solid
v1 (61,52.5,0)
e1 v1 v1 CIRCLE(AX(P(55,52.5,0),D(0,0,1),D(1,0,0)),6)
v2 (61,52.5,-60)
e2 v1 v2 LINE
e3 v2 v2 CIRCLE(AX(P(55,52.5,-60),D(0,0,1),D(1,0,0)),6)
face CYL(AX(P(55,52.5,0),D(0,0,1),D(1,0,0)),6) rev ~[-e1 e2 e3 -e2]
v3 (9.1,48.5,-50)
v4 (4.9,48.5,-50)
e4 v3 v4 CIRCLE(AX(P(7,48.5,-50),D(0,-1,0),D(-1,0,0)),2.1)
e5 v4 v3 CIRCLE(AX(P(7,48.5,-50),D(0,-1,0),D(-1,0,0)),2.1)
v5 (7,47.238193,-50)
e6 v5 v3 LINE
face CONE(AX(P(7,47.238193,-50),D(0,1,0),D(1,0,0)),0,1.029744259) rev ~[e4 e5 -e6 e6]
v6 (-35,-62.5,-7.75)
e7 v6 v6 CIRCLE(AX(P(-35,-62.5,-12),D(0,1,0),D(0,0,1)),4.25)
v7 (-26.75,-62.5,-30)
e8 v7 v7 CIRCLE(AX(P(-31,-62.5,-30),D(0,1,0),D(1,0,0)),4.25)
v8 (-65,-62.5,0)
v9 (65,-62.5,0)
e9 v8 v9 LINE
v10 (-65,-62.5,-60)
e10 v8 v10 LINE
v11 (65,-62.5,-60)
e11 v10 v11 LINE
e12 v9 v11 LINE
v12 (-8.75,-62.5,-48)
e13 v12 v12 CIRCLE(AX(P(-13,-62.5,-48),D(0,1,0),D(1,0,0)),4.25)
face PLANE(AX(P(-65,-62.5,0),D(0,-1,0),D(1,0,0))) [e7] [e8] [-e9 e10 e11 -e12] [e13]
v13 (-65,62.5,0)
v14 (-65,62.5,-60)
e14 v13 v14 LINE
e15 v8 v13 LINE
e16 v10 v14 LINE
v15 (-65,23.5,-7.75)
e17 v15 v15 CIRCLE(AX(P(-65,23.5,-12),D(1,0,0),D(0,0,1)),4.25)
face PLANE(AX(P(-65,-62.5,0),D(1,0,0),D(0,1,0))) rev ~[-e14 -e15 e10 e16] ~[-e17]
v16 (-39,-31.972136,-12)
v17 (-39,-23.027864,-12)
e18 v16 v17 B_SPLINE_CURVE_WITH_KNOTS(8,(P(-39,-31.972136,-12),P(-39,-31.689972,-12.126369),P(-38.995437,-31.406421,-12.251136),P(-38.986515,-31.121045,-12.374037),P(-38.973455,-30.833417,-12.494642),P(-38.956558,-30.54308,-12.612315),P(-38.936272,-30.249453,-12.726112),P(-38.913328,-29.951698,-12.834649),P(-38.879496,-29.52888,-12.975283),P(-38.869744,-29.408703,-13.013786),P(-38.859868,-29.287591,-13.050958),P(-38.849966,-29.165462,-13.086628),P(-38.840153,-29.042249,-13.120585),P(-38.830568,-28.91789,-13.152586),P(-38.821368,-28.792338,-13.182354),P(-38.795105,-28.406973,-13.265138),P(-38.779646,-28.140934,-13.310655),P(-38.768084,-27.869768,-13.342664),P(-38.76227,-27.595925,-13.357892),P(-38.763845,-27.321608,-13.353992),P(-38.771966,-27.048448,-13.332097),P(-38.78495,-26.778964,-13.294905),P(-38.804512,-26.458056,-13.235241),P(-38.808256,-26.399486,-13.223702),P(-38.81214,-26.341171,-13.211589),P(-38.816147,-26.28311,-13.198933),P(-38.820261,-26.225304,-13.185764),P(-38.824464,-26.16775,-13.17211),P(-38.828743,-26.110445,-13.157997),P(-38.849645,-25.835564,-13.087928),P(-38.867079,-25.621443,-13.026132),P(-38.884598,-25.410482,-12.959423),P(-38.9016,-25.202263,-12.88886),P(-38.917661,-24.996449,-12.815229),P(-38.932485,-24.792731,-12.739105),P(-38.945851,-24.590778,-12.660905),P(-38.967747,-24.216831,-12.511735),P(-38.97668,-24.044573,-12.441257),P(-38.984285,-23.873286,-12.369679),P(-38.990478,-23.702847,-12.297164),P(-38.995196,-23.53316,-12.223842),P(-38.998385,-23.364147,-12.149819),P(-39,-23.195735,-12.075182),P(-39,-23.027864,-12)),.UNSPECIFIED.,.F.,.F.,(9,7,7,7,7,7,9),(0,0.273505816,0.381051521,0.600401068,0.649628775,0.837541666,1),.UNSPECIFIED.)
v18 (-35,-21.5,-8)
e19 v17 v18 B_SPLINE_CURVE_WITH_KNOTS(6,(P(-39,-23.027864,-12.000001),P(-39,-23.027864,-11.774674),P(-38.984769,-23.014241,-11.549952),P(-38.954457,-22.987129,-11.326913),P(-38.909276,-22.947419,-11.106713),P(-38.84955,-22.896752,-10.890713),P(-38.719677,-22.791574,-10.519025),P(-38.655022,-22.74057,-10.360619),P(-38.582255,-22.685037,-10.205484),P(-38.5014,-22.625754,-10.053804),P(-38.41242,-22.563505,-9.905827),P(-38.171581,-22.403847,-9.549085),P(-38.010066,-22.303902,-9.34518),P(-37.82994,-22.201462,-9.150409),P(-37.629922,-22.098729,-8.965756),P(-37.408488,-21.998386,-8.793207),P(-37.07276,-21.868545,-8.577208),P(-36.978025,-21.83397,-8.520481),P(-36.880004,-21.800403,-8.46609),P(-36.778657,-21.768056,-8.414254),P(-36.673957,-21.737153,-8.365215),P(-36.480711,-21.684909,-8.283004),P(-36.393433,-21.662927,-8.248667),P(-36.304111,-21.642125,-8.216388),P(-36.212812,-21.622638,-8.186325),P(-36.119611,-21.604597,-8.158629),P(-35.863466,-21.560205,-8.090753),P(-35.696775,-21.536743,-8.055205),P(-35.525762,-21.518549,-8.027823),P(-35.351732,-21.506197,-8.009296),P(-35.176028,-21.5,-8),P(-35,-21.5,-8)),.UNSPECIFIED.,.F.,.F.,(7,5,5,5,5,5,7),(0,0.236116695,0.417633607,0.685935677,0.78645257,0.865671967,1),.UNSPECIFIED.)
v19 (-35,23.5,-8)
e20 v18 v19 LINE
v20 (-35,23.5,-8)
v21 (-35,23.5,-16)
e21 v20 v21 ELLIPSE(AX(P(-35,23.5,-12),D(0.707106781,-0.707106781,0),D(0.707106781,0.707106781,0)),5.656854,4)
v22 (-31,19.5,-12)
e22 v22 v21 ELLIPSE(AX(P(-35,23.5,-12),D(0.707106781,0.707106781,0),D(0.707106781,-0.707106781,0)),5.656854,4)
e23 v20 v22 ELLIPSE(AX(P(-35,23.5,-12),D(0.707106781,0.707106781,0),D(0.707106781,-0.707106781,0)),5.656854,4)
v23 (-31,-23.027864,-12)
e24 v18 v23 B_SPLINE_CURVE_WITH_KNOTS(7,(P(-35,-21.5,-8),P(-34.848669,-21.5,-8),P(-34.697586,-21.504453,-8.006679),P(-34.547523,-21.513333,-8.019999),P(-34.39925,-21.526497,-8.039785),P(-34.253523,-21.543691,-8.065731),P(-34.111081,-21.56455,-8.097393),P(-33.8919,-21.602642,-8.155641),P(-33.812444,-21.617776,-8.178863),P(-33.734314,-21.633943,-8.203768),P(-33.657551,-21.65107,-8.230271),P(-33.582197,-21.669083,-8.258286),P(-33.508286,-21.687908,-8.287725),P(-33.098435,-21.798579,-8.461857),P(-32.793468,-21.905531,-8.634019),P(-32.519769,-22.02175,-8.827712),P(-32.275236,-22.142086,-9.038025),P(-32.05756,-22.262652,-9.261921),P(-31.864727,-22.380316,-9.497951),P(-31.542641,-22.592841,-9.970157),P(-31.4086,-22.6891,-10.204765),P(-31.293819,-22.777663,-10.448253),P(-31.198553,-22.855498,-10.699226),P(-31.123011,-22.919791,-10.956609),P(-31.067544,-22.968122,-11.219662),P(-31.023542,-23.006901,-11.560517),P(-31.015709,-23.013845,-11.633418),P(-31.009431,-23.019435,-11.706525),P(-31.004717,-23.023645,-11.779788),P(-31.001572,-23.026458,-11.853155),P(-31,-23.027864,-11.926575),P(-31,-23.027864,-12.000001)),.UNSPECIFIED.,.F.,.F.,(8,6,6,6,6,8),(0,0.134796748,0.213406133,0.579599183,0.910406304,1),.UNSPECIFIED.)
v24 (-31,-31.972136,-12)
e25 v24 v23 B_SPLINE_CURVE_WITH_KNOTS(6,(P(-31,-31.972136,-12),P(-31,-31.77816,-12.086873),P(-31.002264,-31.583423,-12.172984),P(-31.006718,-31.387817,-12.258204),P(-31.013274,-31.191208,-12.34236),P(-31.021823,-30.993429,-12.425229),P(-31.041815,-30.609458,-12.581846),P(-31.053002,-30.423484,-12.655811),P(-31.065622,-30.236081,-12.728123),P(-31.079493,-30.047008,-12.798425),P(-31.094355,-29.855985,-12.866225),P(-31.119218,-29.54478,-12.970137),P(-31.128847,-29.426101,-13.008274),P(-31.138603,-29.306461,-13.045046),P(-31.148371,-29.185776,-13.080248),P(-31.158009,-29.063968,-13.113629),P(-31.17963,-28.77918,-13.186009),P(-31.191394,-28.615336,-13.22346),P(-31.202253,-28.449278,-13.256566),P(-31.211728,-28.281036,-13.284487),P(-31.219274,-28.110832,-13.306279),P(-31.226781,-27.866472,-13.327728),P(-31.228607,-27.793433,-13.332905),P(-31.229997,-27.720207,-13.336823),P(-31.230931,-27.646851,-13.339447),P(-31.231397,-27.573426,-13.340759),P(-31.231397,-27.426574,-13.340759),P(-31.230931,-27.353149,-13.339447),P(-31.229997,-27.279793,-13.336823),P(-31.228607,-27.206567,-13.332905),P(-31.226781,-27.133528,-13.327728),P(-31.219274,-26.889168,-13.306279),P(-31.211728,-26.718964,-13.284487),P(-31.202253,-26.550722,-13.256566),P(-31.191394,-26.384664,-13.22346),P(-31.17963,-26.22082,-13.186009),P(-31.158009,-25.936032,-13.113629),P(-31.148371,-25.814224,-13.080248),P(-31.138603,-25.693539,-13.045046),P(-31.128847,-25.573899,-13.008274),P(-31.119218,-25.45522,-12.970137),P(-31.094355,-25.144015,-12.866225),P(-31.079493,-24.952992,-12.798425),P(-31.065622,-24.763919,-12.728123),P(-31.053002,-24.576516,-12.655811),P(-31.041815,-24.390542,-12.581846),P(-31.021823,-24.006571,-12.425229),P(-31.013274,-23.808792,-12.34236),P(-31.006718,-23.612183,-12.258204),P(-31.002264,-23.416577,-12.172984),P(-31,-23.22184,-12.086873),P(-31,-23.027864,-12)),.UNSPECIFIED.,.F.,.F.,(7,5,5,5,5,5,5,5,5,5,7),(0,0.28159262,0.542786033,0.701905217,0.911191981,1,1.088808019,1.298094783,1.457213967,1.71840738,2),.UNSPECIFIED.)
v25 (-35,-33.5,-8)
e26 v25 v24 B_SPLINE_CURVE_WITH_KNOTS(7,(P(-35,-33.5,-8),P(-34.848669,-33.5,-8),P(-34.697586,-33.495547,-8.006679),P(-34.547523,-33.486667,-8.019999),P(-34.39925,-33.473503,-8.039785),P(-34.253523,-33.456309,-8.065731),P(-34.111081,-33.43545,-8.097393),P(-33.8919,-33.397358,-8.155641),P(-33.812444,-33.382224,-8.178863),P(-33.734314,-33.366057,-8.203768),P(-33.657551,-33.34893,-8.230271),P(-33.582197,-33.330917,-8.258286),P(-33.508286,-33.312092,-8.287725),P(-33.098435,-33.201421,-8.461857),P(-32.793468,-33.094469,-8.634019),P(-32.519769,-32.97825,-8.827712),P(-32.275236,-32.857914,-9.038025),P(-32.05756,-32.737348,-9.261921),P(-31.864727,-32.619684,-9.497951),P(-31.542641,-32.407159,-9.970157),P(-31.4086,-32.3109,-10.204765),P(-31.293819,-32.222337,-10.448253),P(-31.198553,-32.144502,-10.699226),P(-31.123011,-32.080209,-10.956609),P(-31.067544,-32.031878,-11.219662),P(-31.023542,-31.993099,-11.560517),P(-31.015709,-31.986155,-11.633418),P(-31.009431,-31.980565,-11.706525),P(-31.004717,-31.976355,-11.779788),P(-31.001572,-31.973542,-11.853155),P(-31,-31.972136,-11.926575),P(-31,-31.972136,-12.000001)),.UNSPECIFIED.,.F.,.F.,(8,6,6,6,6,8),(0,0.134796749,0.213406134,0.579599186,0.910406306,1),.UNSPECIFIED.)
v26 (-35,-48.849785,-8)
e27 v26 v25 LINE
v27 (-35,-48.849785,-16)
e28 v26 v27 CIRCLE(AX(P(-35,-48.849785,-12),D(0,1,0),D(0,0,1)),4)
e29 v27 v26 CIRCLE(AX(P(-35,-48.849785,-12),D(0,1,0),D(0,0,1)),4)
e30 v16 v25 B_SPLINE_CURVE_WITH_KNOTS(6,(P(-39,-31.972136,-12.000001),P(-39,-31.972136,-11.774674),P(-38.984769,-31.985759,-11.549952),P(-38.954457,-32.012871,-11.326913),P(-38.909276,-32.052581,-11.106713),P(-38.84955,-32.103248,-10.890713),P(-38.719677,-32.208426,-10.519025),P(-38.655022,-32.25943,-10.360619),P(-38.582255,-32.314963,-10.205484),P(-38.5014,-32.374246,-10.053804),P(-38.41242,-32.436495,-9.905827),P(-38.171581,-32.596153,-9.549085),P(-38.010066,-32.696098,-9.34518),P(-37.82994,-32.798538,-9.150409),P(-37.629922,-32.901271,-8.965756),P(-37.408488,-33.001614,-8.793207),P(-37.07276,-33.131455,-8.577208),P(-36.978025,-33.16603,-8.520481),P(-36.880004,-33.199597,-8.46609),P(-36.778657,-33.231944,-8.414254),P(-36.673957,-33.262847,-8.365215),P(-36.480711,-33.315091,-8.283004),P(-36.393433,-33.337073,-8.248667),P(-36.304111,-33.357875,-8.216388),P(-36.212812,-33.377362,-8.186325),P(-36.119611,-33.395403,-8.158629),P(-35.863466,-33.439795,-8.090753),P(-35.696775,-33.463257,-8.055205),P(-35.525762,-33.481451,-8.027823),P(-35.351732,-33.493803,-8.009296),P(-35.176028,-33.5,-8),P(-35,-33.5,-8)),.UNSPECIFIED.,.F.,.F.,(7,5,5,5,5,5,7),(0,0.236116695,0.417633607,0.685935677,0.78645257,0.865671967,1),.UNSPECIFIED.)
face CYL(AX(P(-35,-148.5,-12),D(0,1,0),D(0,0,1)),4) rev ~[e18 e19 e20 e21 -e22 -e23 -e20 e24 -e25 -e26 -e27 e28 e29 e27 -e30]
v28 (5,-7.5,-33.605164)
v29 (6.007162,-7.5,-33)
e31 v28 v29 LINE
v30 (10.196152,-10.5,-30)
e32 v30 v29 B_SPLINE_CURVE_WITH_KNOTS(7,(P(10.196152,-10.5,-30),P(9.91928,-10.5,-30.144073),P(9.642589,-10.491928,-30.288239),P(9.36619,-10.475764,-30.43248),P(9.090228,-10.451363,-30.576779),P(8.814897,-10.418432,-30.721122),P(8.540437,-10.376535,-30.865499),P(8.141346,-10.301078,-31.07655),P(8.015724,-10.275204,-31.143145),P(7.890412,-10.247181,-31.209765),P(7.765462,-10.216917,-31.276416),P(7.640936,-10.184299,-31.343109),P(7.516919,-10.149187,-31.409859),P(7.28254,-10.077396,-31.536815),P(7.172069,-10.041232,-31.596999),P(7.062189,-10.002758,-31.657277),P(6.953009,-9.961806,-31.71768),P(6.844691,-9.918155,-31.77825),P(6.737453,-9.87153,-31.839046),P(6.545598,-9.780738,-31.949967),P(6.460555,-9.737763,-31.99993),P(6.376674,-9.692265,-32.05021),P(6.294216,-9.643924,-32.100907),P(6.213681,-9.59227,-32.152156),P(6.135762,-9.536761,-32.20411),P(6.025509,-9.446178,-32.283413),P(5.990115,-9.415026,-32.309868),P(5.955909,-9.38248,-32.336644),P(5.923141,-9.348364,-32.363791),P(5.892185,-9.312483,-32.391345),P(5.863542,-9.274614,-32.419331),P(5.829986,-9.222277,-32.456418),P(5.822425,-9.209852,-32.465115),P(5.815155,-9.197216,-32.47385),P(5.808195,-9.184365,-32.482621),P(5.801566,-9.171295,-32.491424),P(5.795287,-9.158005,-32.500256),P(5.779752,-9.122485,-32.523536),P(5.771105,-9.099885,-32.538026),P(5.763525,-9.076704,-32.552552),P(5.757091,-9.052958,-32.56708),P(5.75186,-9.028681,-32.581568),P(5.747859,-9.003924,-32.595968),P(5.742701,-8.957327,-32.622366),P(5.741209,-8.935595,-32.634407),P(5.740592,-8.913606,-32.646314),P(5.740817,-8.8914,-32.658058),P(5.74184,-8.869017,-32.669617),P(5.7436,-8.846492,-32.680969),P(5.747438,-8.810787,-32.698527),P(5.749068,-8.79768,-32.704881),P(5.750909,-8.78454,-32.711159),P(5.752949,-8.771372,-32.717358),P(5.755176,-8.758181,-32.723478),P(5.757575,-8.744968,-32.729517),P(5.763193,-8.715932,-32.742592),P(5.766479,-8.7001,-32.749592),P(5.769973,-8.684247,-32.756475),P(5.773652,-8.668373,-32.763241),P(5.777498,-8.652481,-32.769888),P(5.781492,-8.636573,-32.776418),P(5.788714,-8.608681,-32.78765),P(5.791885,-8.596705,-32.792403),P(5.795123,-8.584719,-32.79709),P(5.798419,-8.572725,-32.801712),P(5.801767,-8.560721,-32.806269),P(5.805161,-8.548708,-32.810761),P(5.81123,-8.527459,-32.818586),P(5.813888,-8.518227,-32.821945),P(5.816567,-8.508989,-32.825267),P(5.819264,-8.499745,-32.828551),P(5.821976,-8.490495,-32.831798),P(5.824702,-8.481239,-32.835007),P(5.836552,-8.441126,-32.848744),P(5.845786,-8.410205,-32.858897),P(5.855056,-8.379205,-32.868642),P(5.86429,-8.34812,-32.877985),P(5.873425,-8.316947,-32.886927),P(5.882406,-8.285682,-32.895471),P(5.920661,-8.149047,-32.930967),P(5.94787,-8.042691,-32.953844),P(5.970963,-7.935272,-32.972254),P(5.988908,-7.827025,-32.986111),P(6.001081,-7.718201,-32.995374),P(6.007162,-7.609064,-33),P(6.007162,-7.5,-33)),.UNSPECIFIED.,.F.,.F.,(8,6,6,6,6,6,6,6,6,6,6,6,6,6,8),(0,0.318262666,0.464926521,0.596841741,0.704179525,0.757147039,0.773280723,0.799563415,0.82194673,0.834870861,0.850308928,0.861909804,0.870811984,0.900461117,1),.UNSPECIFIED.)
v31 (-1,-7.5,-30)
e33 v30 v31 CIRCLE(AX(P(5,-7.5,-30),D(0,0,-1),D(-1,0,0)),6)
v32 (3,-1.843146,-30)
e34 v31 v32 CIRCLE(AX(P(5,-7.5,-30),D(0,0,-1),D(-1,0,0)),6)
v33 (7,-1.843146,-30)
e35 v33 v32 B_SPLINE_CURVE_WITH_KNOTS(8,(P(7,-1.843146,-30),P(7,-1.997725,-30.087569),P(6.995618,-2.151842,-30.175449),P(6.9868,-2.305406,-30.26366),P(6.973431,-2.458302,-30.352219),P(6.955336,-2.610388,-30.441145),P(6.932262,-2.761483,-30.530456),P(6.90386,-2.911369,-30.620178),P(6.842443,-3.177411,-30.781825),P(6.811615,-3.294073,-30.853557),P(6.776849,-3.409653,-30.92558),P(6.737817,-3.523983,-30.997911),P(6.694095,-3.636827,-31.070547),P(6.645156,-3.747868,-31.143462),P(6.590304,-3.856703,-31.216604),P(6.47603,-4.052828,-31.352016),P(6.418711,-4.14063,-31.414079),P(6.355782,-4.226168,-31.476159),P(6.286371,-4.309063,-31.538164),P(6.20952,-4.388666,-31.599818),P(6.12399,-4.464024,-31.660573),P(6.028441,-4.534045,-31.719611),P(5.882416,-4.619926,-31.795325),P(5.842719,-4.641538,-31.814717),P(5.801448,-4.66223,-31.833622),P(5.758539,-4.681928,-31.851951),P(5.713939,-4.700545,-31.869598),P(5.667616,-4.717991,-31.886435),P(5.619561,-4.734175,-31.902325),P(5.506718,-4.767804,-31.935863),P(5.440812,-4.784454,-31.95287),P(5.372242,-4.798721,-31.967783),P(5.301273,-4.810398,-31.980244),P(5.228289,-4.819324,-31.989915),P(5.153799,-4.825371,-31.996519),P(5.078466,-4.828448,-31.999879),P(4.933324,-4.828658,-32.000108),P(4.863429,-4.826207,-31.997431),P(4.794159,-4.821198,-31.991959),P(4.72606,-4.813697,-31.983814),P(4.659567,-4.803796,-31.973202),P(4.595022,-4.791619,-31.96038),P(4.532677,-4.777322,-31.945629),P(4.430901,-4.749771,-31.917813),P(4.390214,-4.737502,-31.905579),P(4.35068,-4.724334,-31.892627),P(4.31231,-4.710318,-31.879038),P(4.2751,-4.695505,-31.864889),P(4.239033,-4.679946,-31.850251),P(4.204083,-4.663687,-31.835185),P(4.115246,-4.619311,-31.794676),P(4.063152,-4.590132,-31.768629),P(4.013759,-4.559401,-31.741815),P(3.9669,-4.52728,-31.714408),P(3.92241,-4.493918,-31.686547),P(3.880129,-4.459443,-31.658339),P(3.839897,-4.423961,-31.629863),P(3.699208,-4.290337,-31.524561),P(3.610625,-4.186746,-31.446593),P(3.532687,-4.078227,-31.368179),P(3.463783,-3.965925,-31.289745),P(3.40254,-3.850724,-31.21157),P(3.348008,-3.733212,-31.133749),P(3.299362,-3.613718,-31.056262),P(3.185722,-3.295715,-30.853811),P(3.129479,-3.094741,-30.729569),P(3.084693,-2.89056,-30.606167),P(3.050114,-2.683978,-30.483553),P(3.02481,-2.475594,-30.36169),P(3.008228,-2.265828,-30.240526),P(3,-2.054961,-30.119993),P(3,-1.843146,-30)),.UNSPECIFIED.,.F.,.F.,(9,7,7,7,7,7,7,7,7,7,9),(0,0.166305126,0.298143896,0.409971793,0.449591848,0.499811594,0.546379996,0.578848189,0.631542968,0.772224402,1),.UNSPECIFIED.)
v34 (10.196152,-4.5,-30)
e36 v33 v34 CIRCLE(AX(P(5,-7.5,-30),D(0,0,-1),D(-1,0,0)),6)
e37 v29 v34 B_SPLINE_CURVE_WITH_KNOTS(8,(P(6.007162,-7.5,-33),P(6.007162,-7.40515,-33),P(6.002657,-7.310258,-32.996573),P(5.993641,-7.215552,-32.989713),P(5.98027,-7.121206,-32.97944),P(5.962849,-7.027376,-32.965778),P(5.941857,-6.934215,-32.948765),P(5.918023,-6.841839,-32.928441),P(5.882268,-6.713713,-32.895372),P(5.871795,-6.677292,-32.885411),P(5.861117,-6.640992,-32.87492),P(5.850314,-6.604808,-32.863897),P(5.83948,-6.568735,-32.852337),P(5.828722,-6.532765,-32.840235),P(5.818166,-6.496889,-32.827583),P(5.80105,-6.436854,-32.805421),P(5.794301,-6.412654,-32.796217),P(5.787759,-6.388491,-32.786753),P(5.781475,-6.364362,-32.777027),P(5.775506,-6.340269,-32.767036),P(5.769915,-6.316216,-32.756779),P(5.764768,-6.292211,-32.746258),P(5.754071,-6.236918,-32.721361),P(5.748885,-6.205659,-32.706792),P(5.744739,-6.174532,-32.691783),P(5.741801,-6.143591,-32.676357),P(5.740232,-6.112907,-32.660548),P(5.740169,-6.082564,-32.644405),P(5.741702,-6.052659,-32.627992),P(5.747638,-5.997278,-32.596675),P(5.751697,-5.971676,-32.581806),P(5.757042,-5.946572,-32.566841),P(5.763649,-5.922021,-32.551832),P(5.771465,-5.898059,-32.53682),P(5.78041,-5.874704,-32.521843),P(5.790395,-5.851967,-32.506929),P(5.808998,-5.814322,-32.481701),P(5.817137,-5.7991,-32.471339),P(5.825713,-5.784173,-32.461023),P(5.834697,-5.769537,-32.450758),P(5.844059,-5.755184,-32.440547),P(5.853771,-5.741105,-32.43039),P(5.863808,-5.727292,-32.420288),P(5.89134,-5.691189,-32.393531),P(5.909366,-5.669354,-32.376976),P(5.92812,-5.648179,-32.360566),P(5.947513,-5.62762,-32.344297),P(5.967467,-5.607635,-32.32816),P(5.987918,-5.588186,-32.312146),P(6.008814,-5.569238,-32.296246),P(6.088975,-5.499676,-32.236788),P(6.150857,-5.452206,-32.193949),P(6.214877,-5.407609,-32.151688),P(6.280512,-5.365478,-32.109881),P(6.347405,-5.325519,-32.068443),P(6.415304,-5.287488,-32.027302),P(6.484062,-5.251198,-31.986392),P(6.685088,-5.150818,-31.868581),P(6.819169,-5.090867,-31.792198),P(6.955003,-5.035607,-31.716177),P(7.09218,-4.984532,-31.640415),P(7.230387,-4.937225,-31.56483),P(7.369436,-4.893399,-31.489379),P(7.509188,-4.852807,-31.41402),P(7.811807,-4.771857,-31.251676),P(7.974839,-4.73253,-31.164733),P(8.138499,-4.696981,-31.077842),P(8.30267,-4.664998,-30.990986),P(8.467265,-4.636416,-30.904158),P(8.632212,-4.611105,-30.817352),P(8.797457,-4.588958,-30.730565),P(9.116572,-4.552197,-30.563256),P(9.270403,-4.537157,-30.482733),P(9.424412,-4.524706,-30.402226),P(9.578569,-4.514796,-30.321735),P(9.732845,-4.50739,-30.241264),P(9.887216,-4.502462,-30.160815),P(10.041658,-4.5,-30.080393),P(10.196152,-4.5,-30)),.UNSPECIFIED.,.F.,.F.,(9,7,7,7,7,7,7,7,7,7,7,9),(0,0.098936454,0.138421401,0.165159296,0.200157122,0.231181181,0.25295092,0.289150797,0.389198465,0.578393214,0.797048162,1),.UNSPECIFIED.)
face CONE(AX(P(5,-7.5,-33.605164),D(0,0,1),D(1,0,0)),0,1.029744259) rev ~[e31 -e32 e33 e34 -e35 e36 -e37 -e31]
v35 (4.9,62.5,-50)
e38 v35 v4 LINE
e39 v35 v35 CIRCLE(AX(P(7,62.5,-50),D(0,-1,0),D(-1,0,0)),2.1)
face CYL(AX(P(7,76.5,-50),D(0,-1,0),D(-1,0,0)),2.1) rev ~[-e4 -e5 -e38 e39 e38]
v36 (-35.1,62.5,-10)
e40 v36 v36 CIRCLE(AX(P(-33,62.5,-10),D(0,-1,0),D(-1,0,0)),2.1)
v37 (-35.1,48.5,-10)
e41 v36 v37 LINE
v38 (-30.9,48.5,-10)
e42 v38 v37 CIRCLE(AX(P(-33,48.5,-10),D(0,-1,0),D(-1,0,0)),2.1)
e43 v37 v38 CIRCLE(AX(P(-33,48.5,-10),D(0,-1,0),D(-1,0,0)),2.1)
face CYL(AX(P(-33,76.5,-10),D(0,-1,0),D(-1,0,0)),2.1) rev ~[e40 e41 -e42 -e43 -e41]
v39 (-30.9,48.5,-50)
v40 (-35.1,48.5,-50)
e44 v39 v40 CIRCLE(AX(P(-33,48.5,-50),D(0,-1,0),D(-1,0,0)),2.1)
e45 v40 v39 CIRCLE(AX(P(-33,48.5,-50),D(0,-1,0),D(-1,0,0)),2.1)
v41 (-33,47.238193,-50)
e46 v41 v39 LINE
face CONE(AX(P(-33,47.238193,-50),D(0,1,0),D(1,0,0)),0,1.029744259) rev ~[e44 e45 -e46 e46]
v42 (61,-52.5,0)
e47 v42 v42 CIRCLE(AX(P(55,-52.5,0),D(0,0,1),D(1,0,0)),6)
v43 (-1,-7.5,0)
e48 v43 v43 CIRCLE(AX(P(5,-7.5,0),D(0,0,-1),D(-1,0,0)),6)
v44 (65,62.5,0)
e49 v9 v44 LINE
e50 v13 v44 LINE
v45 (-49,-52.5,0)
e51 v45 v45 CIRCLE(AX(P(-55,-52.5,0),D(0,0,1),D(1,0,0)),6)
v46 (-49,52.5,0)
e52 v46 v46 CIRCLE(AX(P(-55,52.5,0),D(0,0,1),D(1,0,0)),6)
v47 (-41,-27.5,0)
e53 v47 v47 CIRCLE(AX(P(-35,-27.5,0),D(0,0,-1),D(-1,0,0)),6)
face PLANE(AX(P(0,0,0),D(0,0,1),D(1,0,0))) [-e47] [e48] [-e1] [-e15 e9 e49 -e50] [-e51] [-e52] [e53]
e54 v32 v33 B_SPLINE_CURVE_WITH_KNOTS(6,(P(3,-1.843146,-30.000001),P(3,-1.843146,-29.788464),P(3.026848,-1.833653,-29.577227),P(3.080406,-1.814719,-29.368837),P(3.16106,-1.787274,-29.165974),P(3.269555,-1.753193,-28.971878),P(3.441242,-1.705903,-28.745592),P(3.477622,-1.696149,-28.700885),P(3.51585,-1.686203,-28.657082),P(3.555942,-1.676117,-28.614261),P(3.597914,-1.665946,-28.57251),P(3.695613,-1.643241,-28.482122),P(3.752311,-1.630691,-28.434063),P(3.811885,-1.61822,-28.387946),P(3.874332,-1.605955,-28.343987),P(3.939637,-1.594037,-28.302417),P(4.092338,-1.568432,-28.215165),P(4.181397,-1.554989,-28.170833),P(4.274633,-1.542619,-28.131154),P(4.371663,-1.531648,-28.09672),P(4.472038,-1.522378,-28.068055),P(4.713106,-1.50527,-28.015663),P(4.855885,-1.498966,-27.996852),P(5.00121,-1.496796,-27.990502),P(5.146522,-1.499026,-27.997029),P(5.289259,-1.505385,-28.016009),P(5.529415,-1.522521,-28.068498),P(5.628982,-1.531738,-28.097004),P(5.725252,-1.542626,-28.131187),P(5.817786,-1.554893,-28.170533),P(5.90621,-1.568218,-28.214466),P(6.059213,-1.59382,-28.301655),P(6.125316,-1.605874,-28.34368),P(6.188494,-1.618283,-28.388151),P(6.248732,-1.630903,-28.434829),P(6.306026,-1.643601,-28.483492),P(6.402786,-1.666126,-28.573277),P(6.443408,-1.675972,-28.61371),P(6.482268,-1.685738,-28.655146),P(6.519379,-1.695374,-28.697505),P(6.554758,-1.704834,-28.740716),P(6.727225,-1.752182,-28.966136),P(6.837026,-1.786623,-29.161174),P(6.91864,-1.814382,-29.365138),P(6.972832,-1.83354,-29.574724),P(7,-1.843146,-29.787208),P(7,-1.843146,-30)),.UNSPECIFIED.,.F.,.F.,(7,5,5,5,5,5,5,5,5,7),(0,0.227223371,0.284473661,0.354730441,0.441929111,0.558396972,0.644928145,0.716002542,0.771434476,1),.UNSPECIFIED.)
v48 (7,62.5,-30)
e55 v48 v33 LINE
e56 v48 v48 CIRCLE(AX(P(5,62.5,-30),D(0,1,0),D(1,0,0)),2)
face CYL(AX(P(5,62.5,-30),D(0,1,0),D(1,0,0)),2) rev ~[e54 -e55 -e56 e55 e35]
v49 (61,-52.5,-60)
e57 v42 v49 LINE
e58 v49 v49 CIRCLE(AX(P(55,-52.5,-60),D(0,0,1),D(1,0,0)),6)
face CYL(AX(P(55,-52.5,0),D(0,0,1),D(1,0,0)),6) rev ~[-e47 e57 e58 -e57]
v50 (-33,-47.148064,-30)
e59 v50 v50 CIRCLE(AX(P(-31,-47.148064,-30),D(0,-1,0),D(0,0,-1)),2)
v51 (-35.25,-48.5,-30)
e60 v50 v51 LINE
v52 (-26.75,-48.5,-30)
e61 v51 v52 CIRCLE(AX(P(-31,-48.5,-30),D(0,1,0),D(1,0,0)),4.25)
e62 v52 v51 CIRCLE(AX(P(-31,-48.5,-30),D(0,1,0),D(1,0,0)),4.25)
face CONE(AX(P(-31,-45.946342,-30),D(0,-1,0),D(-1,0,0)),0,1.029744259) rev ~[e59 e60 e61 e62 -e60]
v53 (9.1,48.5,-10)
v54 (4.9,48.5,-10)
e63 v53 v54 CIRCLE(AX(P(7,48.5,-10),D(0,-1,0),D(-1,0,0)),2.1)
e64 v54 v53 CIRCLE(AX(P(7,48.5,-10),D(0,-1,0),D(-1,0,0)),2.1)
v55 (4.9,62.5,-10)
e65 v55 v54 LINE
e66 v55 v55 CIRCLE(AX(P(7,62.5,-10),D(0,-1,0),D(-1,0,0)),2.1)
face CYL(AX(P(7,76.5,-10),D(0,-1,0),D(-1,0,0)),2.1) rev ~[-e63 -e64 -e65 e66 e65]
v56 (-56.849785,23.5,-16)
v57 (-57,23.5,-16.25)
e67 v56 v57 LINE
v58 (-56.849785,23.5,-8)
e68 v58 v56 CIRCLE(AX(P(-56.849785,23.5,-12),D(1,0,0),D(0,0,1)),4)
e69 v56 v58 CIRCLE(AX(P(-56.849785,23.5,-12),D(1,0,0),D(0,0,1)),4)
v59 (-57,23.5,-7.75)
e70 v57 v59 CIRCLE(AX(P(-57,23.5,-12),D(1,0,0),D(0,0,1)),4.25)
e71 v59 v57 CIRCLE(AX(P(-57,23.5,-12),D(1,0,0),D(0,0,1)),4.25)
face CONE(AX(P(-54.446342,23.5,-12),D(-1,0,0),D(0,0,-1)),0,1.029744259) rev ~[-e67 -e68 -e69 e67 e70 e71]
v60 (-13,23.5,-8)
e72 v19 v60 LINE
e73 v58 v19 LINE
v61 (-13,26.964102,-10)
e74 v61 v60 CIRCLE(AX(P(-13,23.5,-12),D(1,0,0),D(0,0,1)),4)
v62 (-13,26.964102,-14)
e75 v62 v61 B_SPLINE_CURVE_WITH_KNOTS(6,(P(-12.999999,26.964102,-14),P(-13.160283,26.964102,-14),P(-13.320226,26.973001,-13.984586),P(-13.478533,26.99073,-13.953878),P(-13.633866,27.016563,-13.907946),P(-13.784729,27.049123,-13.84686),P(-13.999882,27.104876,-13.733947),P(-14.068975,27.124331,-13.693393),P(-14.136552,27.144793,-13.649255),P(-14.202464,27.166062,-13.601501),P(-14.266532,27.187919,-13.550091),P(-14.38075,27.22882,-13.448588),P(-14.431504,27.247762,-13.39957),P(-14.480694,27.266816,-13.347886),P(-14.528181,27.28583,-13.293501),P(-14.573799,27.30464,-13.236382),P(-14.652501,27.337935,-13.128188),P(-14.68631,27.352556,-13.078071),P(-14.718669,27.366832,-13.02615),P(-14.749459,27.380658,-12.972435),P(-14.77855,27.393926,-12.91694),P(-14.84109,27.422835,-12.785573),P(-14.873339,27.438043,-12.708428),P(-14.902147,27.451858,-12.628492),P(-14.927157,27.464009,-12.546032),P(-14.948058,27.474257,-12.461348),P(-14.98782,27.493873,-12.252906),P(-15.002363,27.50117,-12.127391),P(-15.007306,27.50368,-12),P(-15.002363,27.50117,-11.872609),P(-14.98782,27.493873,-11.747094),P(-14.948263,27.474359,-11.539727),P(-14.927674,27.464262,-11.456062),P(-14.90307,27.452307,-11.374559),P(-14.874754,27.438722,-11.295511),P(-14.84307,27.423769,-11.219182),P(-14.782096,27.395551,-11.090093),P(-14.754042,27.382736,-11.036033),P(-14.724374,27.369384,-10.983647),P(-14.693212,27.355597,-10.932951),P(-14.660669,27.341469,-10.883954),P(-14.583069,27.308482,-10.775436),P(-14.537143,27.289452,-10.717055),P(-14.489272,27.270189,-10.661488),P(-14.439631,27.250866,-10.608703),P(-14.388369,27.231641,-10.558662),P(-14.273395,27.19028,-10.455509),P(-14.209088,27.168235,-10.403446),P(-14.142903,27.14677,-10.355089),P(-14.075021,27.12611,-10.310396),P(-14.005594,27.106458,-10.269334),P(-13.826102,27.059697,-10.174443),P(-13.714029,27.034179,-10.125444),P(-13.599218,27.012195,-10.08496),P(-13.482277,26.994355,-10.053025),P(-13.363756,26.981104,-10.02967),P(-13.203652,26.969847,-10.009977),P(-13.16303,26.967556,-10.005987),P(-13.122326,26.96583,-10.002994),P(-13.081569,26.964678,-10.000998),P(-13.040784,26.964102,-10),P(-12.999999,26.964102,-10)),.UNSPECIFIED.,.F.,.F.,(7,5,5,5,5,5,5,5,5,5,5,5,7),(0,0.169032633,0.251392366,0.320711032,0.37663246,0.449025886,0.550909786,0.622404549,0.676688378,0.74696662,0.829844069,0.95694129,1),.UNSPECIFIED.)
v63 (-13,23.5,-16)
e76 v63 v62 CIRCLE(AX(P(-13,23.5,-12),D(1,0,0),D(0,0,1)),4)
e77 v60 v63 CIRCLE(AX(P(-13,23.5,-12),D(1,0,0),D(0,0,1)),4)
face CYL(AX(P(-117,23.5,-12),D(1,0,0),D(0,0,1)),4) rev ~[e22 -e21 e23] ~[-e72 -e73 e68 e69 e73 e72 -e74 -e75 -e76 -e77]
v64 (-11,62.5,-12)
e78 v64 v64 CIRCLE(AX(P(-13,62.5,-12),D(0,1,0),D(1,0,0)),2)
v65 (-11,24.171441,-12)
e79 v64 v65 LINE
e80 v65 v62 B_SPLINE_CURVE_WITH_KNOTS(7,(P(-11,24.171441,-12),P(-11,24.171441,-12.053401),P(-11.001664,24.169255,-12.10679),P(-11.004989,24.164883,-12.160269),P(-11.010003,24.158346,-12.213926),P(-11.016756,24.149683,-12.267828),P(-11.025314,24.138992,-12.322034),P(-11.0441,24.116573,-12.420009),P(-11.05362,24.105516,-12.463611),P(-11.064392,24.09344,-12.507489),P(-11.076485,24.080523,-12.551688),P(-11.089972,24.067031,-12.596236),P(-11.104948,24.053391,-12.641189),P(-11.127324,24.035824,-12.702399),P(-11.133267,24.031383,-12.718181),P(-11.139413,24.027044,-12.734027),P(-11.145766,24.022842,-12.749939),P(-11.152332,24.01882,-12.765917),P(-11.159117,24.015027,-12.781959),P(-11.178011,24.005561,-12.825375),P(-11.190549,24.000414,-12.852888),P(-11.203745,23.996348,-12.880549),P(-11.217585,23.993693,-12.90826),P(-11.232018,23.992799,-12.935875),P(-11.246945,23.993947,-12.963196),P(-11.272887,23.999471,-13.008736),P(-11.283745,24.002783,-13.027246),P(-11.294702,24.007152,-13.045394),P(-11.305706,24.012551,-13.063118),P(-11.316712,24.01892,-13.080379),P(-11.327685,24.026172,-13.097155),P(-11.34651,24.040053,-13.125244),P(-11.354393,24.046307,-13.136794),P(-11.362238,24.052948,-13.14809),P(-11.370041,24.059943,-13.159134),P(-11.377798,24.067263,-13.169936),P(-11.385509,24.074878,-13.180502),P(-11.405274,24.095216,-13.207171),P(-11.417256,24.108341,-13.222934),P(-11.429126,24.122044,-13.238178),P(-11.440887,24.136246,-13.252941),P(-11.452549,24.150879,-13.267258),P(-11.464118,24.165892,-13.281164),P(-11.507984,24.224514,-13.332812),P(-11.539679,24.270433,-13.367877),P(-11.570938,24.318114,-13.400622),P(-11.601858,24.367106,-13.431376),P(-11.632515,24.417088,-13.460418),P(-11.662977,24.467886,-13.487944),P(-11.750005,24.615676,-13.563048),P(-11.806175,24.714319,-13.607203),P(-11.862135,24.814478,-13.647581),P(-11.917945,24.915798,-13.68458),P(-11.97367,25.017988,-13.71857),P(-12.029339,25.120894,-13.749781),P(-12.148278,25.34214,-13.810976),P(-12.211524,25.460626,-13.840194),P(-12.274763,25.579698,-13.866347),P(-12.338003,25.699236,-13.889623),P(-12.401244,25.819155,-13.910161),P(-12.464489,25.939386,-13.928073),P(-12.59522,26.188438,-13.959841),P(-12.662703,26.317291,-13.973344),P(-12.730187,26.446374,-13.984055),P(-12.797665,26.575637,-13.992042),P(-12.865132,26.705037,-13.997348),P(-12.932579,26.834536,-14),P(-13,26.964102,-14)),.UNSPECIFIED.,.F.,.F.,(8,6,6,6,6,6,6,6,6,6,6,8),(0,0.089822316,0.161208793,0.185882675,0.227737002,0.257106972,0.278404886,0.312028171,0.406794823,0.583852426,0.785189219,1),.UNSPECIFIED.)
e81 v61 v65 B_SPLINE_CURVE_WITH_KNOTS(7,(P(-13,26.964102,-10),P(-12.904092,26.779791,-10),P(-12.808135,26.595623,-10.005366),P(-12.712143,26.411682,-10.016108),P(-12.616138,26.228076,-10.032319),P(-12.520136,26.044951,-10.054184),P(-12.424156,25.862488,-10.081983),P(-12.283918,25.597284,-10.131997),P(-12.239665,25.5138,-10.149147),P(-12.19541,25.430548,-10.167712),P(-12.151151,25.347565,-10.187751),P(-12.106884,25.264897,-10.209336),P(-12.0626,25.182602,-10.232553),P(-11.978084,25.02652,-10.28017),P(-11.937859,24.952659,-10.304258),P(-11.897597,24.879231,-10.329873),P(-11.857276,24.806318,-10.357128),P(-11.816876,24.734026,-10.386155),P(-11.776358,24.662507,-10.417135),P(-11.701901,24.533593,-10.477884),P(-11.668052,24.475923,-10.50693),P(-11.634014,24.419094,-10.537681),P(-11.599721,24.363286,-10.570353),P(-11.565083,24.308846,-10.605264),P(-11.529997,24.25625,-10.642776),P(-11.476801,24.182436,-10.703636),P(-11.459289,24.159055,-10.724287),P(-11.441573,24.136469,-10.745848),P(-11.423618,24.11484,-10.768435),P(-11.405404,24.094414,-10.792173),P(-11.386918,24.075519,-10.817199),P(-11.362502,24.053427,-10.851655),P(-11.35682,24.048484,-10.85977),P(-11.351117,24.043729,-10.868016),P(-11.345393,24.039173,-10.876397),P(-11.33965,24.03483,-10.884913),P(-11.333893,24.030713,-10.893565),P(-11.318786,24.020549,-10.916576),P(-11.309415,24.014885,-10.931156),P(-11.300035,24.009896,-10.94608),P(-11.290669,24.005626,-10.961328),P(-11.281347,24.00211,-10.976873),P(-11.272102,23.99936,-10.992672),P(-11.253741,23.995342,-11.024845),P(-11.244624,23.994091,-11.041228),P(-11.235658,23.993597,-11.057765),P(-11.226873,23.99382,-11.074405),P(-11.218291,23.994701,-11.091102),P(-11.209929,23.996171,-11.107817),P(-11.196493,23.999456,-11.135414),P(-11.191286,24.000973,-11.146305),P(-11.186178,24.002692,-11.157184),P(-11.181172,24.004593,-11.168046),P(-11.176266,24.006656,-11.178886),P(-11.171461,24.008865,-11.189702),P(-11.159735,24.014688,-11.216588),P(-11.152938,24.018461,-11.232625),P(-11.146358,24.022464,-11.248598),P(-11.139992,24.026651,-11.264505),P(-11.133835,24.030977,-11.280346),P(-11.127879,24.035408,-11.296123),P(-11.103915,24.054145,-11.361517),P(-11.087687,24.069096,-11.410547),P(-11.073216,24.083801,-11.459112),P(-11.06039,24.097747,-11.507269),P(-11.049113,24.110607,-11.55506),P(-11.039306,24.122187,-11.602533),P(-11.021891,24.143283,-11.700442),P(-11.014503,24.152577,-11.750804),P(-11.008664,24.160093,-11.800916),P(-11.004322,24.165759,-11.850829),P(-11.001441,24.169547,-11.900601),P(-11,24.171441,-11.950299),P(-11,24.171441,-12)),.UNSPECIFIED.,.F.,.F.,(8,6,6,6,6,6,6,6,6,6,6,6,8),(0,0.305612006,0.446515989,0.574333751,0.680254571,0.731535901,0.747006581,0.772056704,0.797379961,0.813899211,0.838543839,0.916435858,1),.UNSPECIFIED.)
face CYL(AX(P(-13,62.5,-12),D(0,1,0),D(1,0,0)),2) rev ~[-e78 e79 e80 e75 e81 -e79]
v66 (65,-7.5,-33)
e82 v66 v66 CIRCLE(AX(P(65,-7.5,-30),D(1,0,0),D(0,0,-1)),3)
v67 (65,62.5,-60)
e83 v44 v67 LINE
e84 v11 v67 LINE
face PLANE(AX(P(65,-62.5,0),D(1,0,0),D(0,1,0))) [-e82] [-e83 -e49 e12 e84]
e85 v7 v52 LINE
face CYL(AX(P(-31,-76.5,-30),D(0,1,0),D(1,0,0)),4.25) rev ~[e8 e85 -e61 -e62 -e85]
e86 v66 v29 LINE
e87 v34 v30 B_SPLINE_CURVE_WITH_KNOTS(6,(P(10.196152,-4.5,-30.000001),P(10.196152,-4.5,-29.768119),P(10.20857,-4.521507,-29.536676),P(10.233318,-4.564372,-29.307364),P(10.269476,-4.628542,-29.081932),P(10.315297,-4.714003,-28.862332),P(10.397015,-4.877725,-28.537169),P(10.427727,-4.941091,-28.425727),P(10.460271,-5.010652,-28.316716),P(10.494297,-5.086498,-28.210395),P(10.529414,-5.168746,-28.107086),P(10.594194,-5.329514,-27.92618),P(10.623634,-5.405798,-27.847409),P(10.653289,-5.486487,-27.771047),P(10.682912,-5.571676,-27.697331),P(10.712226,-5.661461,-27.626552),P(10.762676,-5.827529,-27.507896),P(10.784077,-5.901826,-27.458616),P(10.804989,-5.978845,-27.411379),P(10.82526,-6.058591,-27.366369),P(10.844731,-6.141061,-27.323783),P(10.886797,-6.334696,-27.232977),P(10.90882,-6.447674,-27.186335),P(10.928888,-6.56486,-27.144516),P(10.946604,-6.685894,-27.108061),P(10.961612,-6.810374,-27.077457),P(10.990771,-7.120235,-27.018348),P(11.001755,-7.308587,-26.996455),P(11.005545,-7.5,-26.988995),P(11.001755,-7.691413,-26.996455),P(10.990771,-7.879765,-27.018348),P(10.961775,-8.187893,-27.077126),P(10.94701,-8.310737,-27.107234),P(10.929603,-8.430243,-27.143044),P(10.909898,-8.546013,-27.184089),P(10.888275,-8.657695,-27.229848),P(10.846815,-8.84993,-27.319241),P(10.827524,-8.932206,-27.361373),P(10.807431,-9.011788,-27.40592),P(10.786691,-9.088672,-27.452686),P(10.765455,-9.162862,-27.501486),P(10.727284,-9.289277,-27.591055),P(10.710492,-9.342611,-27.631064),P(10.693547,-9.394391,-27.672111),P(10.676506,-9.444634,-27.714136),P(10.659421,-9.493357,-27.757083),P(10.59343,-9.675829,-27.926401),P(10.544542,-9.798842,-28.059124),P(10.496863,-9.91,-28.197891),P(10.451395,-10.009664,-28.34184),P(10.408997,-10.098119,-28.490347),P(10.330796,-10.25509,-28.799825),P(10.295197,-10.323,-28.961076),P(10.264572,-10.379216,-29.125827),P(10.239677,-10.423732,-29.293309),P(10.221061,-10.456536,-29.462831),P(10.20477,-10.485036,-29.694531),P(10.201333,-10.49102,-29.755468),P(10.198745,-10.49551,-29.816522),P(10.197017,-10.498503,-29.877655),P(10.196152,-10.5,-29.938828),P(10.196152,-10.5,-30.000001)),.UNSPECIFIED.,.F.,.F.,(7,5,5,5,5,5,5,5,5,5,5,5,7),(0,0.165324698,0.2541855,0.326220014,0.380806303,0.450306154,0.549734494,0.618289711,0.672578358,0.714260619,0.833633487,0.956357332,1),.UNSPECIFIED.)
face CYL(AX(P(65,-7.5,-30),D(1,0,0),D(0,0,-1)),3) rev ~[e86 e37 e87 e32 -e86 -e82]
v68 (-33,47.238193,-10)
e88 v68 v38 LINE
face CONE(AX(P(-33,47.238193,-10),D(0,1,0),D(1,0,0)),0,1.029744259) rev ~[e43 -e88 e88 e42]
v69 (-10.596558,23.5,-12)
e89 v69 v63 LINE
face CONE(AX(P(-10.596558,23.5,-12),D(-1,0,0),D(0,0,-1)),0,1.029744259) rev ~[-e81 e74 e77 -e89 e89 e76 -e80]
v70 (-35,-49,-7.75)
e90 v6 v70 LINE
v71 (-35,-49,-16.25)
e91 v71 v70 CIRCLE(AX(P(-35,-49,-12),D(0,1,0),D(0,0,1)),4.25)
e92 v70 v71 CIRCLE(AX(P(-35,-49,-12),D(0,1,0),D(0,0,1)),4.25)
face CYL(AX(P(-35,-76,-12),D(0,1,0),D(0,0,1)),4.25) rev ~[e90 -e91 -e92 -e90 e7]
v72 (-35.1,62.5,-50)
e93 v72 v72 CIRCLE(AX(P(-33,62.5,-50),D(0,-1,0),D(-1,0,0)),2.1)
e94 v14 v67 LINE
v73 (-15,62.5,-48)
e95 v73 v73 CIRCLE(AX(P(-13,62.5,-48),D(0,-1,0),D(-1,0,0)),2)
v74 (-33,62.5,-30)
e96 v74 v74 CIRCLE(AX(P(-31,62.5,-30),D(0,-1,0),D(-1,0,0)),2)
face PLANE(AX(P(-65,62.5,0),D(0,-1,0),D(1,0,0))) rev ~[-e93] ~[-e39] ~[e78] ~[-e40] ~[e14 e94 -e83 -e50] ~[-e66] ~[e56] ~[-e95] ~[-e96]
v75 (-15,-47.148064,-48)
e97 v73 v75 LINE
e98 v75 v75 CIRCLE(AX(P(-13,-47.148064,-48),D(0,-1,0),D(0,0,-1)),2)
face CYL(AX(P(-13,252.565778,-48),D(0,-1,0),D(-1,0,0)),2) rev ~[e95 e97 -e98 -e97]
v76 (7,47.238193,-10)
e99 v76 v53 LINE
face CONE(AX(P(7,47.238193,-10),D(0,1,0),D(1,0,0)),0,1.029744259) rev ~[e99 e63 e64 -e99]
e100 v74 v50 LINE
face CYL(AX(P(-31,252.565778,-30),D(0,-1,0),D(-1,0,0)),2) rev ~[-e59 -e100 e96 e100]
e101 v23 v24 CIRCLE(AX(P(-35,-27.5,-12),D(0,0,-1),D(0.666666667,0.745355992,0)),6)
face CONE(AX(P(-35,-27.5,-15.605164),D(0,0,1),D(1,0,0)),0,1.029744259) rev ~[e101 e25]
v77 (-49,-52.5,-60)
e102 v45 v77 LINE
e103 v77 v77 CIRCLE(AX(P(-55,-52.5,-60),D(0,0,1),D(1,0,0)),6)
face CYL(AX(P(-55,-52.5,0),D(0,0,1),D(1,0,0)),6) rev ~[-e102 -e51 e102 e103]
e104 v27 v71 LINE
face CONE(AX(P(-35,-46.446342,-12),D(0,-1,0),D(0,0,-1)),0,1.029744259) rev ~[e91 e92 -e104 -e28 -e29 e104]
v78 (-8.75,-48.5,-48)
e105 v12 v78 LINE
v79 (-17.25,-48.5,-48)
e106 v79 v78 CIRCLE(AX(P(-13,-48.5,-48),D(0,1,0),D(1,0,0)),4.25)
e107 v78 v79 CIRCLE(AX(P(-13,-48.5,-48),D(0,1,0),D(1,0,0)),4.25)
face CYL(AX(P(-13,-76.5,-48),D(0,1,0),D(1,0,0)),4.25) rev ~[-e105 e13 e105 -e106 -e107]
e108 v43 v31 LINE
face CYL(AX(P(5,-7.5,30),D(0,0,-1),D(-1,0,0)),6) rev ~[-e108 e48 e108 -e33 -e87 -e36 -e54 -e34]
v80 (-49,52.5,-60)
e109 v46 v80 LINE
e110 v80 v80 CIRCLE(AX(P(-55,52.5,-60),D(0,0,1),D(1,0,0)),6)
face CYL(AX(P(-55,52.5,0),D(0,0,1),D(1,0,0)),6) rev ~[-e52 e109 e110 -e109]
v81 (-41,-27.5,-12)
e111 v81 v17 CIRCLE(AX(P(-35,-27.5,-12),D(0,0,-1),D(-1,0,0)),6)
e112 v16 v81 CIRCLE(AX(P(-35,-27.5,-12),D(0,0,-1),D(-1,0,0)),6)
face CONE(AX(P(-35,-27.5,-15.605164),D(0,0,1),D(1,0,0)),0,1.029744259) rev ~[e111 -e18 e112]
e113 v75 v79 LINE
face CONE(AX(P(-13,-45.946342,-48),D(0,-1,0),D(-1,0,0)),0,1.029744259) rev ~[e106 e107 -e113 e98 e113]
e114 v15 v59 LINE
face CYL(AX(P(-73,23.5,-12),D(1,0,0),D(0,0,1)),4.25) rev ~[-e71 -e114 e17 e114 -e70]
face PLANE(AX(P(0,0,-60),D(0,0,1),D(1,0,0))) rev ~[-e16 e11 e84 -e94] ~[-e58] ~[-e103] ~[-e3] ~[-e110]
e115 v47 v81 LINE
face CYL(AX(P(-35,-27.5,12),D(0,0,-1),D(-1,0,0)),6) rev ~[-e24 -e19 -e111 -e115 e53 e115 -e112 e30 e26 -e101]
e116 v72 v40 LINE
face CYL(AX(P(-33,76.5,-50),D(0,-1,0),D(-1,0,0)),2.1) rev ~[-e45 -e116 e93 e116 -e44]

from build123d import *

# Parameters (mm, degrees)
SKETCH_1_W                  = 130
SKETCH_1_H                  = 125
SKETCH_1_R                  = 6
EXTRUDE_1_DEPTH             = 60
HOLE_WIZARD_12_0_12_1_D     = 12
HOLE_WIZARD_12_0_12_1_DEPTH = 30
HOLE_WIZARD_12_0_12_1_TIP   = 3.605163714
HOLE_WIZARD_12_0_12_2_D     = 12
HOLE_WIZARD_12_0_12_2_DEPTH = 12
HOLE_WIZARD_12_0_12_2_TIP   = 3.605163714
HOLE_WIZARD_4_0_4_1_D       = 4
HOLE_WIZARD_M10_2_D         = 8.5
HOLE_WIZARD_M10_2_DEPTH     = 14
HOLE_WIZARD_M10_2_TIP       = 2.553657631
HOLE_WIZARD_M5_2_D          = 4.2
HOLE_WIZARD_M5_2_DEPTH      = 14
HOLE_WIZARD_M5_2_TIP        = 1.2618073
HOLE_WIZARD_8_0_8_2_D       = 8
HOLE_WIZARD_8_0_8_2_DEPTH   = 52
HOLE_WIZARD_8_0_8_2_TIP     = 2.403442476
HOLE_WIZARD_M10_3_D         = 8.5
HOLE_WIZARD_M10_3_DEPTH     = 8
HOLE_WIZARD_M10_3_TIP       = 2.553657631
HOLE_WIZARD_8_0_8_3_D       = 8
HOLE_WIZARD_8_0_8_3_DEPTH   = 86
HOLE_WIZARD_8_0_8_3_TIP     = 2.403442476
SKETCH_3_R                  = 2
CUT_EXTRUDE_1_DEPTH         = 39
SKETCH_31_R                 = 3
CUT_EXTRUDE_2_DEPTH         = 60
SKETCH_32_R                 = 2
CUT_EXTRUDE_3_DEPTH         = 69
HOLE_WIZARD_M10_4_D         = 8.5
HOLE_WIZARD_M10_4_DEPTH     = 13.5
HOLE_WIZARD_M10_4_TIP       = 2.553657631


with BuildPart() as part:
    # 草图1 → 凸台-拉伸1 (new body)
    with BuildSketch(Plane.XY):
        Rectangle(SKETCH_1_W, SKETCH_1_H)
        with Locations((-55, -52.5)):
            Circle(SKETCH_1_R, mode=Mode.SUBTRACT)
        with Locations((55, -52.5)):
            Circle(SKETCH_1_R, mode=Mode.SUBTRACT)
        with Locations((55, 52.5)):
            Circle(SKETCH_1_R, mode=Mode.SUBTRACT)
        with Locations((-55, 52.5)):
            Circle(SKETCH_1_R, mode=Mode.SUBTRACT)
    extrude(amount=-EXTRUDE_1_DEPTH)

    # Ø12.0 (12) 直径孔1
    with Locations(Plane(origin=(5, -7.5, 0), x_dir=(1, 0, 0), z_dir=(0, 0, 1))):
        with Locations((0, 0)):
            Hole(HOLE_WIZARD_12_0_12_1_D / 2, depth=HOLE_WIZARD_12_0_12_1_DEPTH)
            with Locations((0, 0, -(HOLE_WIZARD_12_0_12_1_DEPTH + HOLE_WIZARD_12_0_12_1_TIP / 2))):  # 118° drill point
                Cone(0, HOLE_WIZARD_12_0_12_1_D / 2, HOLE_WIZARD_12_0_12_1_TIP, mode=Mode.SUBTRACT)

    # Ø12.0 (12) 直径孔2
    with Locations(Plane(origin=(-35, -27.5, 0), x_dir=(1, 0, 0), z_dir=(0, 0, 1))):
        with Locations((0, 0)):
            Hole(HOLE_WIZARD_12_0_12_2_D / 2, depth=HOLE_WIZARD_12_0_12_2_DEPTH)
            with Locations((0, 0, -(HOLE_WIZARD_12_0_12_2_DEPTH + HOLE_WIZARD_12_0_12_2_TIP / 2))):  # 118° drill point
                Cone(0, HOLE_WIZARD_12_0_12_2_D / 2, HOLE_WIZARD_12_0_12_2_TIP, mode=Mode.SUBTRACT)

    # Ø4.0 (4) 直径孔1 (through all)
    with Locations(Plane(origin=(0, 62.5, 0), x_dir=(1, 0, 0), z_dir=(0, 1, 0))):
        with Locations((-13, 48), (-31, 30)):
            Hole(HOLE_WIZARD_4_0_4_1_D / 2)

    # M10 螺纹孔2
    with Locations(Plane(origin=(0, -62.5, 0), x_dir=(-1, 0, 0), z_dir=(0, -1, 0))):
        with Locations((31, 30), (13, 48)):
            Hole(HOLE_WIZARD_M10_2_D / 2, depth=HOLE_WIZARD_M10_2_DEPTH)
            with Locations((0, 0, -(HOLE_WIZARD_M10_2_DEPTH + HOLE_WIZARD_M10_2_TIP / 2))):  # 118° drill point
                Cone(0, HOLE_WIZARD_M10_2_D / 2, HOLE_WIZARD_M10_2_TIP, mode=Mode.SUBTRACT)

    # M5 螺纹孔2
    with Locations(Plane(origin=(0, 62.5, 0), x_dir=(1, 0, 0), z_dir=(0, 1, 0))):
        with Locations((-33, 50), (7, 50), (7, 10), (-33, 10)):
            Hole(HOLE_WIZARD_M5_2_D / 2, depth=HOLE_WIZARD_M5_2_DEPTH)
            with Locations((0, 0, -(HOLE_WIZARD_M5_2_DEPTH + HOLE_WIZARD_M5_2_TIP / 2))):  # 118° drill point
                Cone(0, HOLE_WIZARD_M5_2_D / 2, HOLE_WIZARD_M5_2_TIP, mode=Mode.SUBTRACT)

    # Ø8.0 (8) 直径孔2
    with Locations(Plane(origin=(-65, 23.5, -12), x_dir=(0, 0, -1), z_dir=(-1, 0, 0))):
        with Locations((0, 0)):
            Hole(HOLE_WIZARD_8_0_8_2_D / 2, depth=HOLE_WIZARD_8_0_8_2_DEPTH)
            with Locations((0, 0, -(HOLE_WIZARD_8_0_8_2_DEPTH + HOLE_WIZARD_8_0_8_2_TIP / 2))):  # 118° drill point
                Cone(0, HOLE_WIZARD_8_0_8_2_D / 2, HOLE_WIZARD_8_0_8_2_TIP, mode=Mode.SUBTRACT)

    # M10 螺纹孔3
    with Locations(Plane(origin=(-65, 23.5, -12), x_dir=(0, 0, -1), z_dir=(-1, 0, 0))):
        with Locations((0, 0)):
            Hole(HOLE_WIZARD_M10_3_D / 2, depth=HOLE_WIZARD_M10_3_DEPTH)
            with Locations((0, 0, -(HOLE_WIZARD_M10_3_DEPTH + HOLE_WIZARD_M10_3_TIP / 2))):  # 118° drill point
                Cone(0, HOLE_WIZARD_M10_3_D / 2, HOLE_WIZARD_M10_3_TIP, mode=Mode.SUBTRACT)

    # Ø8.0 (8) 直径孔3
    with Locations(Plane(origin=(-35, -62.5, -12), x_dir=(0, 0, -1), z_dir=(0, -1, 0))):
        with Locations((0, 0)):
            Hole(HOLE_WIZARD_8_0_8_3_D / 2, depth=HOLE_WIZARD_8_0_8_3_DEPTH)
            with Locations((0, 0, -(HOLE_WIZARD_8_0_8_3_DEPTH + HOLE_WIZARD_8_0_8_3_TIP / 2))):  # 118° drill point
                Cone(0, HOLE_WIZARD_8_0_8_3_D / 2, HOLE_WIZARD_8_0_8_3_TIP, mode=Mode.SUBTRACT)

    # 草图3 → 切除-拉伸1 (cut)
    with BuildSketch(Plane(origin=(0, 62.5, 0), x_dir=(1, 0, 0), z_dir=(0, 1, 0))):
        with Locations((-13, 12)):
            Circle(SKETCH_3_R)
    extrude(amount=-CUT_EXTRUDE_1_DEPTH, mode=Mode.SUBTRACT)

    # 草图31 → 切除-拉伸2 (cut)
    with BuildSketch(Plane(origin=(65, 0, 0), x_dir=(0, 0, -1), z_dir=(1, 0, 0))):
        with Locations((30, -7.5)):
            Circle(SKETCH_31_R)
    extrude(amount=-CUT_EXTRUDE_2_DEPTH, mode=Mode.SUBTRACT)

    # 草图32 → 切除-拉伸3 (cut)
    with BuildSketch(Plane(origin=(0, 62.5, 0), x_dir=(1, 0, 0), z_dir=(0, 1, 0))):
        with Locations((5, 30)):
            Circle(SKETCH_32_R)
    extrude(amount=-CUT_EXTRUDE_3_DEPTH, mode=Mode.SUBTRACT)

    # M10 螺纹孔4
    with Locations(Plane(origin=(-35, -62.5, -12), x_dir=(0, 0, -1), z_dir=(0, -1, 0))):
        with Locations((0, 0)):
            Hole(HOLE_WIZARD_M10_4_D / 2, depth=HOLE_WIZARD_M10_4_DEPTH)
            with Locations((0, 0, -(HOLE_WIZARD_M10_4_DEPTH + HOLE_WIZARD_M10_4_TIP / 2))):  # 118° drill point
                Cone(0, HOLE_WIZARD_M10_4_D / 2, HOLE_WIZARD_M10_4_TIP, mode=Mode.SUBTRACT)


solid = part.part
